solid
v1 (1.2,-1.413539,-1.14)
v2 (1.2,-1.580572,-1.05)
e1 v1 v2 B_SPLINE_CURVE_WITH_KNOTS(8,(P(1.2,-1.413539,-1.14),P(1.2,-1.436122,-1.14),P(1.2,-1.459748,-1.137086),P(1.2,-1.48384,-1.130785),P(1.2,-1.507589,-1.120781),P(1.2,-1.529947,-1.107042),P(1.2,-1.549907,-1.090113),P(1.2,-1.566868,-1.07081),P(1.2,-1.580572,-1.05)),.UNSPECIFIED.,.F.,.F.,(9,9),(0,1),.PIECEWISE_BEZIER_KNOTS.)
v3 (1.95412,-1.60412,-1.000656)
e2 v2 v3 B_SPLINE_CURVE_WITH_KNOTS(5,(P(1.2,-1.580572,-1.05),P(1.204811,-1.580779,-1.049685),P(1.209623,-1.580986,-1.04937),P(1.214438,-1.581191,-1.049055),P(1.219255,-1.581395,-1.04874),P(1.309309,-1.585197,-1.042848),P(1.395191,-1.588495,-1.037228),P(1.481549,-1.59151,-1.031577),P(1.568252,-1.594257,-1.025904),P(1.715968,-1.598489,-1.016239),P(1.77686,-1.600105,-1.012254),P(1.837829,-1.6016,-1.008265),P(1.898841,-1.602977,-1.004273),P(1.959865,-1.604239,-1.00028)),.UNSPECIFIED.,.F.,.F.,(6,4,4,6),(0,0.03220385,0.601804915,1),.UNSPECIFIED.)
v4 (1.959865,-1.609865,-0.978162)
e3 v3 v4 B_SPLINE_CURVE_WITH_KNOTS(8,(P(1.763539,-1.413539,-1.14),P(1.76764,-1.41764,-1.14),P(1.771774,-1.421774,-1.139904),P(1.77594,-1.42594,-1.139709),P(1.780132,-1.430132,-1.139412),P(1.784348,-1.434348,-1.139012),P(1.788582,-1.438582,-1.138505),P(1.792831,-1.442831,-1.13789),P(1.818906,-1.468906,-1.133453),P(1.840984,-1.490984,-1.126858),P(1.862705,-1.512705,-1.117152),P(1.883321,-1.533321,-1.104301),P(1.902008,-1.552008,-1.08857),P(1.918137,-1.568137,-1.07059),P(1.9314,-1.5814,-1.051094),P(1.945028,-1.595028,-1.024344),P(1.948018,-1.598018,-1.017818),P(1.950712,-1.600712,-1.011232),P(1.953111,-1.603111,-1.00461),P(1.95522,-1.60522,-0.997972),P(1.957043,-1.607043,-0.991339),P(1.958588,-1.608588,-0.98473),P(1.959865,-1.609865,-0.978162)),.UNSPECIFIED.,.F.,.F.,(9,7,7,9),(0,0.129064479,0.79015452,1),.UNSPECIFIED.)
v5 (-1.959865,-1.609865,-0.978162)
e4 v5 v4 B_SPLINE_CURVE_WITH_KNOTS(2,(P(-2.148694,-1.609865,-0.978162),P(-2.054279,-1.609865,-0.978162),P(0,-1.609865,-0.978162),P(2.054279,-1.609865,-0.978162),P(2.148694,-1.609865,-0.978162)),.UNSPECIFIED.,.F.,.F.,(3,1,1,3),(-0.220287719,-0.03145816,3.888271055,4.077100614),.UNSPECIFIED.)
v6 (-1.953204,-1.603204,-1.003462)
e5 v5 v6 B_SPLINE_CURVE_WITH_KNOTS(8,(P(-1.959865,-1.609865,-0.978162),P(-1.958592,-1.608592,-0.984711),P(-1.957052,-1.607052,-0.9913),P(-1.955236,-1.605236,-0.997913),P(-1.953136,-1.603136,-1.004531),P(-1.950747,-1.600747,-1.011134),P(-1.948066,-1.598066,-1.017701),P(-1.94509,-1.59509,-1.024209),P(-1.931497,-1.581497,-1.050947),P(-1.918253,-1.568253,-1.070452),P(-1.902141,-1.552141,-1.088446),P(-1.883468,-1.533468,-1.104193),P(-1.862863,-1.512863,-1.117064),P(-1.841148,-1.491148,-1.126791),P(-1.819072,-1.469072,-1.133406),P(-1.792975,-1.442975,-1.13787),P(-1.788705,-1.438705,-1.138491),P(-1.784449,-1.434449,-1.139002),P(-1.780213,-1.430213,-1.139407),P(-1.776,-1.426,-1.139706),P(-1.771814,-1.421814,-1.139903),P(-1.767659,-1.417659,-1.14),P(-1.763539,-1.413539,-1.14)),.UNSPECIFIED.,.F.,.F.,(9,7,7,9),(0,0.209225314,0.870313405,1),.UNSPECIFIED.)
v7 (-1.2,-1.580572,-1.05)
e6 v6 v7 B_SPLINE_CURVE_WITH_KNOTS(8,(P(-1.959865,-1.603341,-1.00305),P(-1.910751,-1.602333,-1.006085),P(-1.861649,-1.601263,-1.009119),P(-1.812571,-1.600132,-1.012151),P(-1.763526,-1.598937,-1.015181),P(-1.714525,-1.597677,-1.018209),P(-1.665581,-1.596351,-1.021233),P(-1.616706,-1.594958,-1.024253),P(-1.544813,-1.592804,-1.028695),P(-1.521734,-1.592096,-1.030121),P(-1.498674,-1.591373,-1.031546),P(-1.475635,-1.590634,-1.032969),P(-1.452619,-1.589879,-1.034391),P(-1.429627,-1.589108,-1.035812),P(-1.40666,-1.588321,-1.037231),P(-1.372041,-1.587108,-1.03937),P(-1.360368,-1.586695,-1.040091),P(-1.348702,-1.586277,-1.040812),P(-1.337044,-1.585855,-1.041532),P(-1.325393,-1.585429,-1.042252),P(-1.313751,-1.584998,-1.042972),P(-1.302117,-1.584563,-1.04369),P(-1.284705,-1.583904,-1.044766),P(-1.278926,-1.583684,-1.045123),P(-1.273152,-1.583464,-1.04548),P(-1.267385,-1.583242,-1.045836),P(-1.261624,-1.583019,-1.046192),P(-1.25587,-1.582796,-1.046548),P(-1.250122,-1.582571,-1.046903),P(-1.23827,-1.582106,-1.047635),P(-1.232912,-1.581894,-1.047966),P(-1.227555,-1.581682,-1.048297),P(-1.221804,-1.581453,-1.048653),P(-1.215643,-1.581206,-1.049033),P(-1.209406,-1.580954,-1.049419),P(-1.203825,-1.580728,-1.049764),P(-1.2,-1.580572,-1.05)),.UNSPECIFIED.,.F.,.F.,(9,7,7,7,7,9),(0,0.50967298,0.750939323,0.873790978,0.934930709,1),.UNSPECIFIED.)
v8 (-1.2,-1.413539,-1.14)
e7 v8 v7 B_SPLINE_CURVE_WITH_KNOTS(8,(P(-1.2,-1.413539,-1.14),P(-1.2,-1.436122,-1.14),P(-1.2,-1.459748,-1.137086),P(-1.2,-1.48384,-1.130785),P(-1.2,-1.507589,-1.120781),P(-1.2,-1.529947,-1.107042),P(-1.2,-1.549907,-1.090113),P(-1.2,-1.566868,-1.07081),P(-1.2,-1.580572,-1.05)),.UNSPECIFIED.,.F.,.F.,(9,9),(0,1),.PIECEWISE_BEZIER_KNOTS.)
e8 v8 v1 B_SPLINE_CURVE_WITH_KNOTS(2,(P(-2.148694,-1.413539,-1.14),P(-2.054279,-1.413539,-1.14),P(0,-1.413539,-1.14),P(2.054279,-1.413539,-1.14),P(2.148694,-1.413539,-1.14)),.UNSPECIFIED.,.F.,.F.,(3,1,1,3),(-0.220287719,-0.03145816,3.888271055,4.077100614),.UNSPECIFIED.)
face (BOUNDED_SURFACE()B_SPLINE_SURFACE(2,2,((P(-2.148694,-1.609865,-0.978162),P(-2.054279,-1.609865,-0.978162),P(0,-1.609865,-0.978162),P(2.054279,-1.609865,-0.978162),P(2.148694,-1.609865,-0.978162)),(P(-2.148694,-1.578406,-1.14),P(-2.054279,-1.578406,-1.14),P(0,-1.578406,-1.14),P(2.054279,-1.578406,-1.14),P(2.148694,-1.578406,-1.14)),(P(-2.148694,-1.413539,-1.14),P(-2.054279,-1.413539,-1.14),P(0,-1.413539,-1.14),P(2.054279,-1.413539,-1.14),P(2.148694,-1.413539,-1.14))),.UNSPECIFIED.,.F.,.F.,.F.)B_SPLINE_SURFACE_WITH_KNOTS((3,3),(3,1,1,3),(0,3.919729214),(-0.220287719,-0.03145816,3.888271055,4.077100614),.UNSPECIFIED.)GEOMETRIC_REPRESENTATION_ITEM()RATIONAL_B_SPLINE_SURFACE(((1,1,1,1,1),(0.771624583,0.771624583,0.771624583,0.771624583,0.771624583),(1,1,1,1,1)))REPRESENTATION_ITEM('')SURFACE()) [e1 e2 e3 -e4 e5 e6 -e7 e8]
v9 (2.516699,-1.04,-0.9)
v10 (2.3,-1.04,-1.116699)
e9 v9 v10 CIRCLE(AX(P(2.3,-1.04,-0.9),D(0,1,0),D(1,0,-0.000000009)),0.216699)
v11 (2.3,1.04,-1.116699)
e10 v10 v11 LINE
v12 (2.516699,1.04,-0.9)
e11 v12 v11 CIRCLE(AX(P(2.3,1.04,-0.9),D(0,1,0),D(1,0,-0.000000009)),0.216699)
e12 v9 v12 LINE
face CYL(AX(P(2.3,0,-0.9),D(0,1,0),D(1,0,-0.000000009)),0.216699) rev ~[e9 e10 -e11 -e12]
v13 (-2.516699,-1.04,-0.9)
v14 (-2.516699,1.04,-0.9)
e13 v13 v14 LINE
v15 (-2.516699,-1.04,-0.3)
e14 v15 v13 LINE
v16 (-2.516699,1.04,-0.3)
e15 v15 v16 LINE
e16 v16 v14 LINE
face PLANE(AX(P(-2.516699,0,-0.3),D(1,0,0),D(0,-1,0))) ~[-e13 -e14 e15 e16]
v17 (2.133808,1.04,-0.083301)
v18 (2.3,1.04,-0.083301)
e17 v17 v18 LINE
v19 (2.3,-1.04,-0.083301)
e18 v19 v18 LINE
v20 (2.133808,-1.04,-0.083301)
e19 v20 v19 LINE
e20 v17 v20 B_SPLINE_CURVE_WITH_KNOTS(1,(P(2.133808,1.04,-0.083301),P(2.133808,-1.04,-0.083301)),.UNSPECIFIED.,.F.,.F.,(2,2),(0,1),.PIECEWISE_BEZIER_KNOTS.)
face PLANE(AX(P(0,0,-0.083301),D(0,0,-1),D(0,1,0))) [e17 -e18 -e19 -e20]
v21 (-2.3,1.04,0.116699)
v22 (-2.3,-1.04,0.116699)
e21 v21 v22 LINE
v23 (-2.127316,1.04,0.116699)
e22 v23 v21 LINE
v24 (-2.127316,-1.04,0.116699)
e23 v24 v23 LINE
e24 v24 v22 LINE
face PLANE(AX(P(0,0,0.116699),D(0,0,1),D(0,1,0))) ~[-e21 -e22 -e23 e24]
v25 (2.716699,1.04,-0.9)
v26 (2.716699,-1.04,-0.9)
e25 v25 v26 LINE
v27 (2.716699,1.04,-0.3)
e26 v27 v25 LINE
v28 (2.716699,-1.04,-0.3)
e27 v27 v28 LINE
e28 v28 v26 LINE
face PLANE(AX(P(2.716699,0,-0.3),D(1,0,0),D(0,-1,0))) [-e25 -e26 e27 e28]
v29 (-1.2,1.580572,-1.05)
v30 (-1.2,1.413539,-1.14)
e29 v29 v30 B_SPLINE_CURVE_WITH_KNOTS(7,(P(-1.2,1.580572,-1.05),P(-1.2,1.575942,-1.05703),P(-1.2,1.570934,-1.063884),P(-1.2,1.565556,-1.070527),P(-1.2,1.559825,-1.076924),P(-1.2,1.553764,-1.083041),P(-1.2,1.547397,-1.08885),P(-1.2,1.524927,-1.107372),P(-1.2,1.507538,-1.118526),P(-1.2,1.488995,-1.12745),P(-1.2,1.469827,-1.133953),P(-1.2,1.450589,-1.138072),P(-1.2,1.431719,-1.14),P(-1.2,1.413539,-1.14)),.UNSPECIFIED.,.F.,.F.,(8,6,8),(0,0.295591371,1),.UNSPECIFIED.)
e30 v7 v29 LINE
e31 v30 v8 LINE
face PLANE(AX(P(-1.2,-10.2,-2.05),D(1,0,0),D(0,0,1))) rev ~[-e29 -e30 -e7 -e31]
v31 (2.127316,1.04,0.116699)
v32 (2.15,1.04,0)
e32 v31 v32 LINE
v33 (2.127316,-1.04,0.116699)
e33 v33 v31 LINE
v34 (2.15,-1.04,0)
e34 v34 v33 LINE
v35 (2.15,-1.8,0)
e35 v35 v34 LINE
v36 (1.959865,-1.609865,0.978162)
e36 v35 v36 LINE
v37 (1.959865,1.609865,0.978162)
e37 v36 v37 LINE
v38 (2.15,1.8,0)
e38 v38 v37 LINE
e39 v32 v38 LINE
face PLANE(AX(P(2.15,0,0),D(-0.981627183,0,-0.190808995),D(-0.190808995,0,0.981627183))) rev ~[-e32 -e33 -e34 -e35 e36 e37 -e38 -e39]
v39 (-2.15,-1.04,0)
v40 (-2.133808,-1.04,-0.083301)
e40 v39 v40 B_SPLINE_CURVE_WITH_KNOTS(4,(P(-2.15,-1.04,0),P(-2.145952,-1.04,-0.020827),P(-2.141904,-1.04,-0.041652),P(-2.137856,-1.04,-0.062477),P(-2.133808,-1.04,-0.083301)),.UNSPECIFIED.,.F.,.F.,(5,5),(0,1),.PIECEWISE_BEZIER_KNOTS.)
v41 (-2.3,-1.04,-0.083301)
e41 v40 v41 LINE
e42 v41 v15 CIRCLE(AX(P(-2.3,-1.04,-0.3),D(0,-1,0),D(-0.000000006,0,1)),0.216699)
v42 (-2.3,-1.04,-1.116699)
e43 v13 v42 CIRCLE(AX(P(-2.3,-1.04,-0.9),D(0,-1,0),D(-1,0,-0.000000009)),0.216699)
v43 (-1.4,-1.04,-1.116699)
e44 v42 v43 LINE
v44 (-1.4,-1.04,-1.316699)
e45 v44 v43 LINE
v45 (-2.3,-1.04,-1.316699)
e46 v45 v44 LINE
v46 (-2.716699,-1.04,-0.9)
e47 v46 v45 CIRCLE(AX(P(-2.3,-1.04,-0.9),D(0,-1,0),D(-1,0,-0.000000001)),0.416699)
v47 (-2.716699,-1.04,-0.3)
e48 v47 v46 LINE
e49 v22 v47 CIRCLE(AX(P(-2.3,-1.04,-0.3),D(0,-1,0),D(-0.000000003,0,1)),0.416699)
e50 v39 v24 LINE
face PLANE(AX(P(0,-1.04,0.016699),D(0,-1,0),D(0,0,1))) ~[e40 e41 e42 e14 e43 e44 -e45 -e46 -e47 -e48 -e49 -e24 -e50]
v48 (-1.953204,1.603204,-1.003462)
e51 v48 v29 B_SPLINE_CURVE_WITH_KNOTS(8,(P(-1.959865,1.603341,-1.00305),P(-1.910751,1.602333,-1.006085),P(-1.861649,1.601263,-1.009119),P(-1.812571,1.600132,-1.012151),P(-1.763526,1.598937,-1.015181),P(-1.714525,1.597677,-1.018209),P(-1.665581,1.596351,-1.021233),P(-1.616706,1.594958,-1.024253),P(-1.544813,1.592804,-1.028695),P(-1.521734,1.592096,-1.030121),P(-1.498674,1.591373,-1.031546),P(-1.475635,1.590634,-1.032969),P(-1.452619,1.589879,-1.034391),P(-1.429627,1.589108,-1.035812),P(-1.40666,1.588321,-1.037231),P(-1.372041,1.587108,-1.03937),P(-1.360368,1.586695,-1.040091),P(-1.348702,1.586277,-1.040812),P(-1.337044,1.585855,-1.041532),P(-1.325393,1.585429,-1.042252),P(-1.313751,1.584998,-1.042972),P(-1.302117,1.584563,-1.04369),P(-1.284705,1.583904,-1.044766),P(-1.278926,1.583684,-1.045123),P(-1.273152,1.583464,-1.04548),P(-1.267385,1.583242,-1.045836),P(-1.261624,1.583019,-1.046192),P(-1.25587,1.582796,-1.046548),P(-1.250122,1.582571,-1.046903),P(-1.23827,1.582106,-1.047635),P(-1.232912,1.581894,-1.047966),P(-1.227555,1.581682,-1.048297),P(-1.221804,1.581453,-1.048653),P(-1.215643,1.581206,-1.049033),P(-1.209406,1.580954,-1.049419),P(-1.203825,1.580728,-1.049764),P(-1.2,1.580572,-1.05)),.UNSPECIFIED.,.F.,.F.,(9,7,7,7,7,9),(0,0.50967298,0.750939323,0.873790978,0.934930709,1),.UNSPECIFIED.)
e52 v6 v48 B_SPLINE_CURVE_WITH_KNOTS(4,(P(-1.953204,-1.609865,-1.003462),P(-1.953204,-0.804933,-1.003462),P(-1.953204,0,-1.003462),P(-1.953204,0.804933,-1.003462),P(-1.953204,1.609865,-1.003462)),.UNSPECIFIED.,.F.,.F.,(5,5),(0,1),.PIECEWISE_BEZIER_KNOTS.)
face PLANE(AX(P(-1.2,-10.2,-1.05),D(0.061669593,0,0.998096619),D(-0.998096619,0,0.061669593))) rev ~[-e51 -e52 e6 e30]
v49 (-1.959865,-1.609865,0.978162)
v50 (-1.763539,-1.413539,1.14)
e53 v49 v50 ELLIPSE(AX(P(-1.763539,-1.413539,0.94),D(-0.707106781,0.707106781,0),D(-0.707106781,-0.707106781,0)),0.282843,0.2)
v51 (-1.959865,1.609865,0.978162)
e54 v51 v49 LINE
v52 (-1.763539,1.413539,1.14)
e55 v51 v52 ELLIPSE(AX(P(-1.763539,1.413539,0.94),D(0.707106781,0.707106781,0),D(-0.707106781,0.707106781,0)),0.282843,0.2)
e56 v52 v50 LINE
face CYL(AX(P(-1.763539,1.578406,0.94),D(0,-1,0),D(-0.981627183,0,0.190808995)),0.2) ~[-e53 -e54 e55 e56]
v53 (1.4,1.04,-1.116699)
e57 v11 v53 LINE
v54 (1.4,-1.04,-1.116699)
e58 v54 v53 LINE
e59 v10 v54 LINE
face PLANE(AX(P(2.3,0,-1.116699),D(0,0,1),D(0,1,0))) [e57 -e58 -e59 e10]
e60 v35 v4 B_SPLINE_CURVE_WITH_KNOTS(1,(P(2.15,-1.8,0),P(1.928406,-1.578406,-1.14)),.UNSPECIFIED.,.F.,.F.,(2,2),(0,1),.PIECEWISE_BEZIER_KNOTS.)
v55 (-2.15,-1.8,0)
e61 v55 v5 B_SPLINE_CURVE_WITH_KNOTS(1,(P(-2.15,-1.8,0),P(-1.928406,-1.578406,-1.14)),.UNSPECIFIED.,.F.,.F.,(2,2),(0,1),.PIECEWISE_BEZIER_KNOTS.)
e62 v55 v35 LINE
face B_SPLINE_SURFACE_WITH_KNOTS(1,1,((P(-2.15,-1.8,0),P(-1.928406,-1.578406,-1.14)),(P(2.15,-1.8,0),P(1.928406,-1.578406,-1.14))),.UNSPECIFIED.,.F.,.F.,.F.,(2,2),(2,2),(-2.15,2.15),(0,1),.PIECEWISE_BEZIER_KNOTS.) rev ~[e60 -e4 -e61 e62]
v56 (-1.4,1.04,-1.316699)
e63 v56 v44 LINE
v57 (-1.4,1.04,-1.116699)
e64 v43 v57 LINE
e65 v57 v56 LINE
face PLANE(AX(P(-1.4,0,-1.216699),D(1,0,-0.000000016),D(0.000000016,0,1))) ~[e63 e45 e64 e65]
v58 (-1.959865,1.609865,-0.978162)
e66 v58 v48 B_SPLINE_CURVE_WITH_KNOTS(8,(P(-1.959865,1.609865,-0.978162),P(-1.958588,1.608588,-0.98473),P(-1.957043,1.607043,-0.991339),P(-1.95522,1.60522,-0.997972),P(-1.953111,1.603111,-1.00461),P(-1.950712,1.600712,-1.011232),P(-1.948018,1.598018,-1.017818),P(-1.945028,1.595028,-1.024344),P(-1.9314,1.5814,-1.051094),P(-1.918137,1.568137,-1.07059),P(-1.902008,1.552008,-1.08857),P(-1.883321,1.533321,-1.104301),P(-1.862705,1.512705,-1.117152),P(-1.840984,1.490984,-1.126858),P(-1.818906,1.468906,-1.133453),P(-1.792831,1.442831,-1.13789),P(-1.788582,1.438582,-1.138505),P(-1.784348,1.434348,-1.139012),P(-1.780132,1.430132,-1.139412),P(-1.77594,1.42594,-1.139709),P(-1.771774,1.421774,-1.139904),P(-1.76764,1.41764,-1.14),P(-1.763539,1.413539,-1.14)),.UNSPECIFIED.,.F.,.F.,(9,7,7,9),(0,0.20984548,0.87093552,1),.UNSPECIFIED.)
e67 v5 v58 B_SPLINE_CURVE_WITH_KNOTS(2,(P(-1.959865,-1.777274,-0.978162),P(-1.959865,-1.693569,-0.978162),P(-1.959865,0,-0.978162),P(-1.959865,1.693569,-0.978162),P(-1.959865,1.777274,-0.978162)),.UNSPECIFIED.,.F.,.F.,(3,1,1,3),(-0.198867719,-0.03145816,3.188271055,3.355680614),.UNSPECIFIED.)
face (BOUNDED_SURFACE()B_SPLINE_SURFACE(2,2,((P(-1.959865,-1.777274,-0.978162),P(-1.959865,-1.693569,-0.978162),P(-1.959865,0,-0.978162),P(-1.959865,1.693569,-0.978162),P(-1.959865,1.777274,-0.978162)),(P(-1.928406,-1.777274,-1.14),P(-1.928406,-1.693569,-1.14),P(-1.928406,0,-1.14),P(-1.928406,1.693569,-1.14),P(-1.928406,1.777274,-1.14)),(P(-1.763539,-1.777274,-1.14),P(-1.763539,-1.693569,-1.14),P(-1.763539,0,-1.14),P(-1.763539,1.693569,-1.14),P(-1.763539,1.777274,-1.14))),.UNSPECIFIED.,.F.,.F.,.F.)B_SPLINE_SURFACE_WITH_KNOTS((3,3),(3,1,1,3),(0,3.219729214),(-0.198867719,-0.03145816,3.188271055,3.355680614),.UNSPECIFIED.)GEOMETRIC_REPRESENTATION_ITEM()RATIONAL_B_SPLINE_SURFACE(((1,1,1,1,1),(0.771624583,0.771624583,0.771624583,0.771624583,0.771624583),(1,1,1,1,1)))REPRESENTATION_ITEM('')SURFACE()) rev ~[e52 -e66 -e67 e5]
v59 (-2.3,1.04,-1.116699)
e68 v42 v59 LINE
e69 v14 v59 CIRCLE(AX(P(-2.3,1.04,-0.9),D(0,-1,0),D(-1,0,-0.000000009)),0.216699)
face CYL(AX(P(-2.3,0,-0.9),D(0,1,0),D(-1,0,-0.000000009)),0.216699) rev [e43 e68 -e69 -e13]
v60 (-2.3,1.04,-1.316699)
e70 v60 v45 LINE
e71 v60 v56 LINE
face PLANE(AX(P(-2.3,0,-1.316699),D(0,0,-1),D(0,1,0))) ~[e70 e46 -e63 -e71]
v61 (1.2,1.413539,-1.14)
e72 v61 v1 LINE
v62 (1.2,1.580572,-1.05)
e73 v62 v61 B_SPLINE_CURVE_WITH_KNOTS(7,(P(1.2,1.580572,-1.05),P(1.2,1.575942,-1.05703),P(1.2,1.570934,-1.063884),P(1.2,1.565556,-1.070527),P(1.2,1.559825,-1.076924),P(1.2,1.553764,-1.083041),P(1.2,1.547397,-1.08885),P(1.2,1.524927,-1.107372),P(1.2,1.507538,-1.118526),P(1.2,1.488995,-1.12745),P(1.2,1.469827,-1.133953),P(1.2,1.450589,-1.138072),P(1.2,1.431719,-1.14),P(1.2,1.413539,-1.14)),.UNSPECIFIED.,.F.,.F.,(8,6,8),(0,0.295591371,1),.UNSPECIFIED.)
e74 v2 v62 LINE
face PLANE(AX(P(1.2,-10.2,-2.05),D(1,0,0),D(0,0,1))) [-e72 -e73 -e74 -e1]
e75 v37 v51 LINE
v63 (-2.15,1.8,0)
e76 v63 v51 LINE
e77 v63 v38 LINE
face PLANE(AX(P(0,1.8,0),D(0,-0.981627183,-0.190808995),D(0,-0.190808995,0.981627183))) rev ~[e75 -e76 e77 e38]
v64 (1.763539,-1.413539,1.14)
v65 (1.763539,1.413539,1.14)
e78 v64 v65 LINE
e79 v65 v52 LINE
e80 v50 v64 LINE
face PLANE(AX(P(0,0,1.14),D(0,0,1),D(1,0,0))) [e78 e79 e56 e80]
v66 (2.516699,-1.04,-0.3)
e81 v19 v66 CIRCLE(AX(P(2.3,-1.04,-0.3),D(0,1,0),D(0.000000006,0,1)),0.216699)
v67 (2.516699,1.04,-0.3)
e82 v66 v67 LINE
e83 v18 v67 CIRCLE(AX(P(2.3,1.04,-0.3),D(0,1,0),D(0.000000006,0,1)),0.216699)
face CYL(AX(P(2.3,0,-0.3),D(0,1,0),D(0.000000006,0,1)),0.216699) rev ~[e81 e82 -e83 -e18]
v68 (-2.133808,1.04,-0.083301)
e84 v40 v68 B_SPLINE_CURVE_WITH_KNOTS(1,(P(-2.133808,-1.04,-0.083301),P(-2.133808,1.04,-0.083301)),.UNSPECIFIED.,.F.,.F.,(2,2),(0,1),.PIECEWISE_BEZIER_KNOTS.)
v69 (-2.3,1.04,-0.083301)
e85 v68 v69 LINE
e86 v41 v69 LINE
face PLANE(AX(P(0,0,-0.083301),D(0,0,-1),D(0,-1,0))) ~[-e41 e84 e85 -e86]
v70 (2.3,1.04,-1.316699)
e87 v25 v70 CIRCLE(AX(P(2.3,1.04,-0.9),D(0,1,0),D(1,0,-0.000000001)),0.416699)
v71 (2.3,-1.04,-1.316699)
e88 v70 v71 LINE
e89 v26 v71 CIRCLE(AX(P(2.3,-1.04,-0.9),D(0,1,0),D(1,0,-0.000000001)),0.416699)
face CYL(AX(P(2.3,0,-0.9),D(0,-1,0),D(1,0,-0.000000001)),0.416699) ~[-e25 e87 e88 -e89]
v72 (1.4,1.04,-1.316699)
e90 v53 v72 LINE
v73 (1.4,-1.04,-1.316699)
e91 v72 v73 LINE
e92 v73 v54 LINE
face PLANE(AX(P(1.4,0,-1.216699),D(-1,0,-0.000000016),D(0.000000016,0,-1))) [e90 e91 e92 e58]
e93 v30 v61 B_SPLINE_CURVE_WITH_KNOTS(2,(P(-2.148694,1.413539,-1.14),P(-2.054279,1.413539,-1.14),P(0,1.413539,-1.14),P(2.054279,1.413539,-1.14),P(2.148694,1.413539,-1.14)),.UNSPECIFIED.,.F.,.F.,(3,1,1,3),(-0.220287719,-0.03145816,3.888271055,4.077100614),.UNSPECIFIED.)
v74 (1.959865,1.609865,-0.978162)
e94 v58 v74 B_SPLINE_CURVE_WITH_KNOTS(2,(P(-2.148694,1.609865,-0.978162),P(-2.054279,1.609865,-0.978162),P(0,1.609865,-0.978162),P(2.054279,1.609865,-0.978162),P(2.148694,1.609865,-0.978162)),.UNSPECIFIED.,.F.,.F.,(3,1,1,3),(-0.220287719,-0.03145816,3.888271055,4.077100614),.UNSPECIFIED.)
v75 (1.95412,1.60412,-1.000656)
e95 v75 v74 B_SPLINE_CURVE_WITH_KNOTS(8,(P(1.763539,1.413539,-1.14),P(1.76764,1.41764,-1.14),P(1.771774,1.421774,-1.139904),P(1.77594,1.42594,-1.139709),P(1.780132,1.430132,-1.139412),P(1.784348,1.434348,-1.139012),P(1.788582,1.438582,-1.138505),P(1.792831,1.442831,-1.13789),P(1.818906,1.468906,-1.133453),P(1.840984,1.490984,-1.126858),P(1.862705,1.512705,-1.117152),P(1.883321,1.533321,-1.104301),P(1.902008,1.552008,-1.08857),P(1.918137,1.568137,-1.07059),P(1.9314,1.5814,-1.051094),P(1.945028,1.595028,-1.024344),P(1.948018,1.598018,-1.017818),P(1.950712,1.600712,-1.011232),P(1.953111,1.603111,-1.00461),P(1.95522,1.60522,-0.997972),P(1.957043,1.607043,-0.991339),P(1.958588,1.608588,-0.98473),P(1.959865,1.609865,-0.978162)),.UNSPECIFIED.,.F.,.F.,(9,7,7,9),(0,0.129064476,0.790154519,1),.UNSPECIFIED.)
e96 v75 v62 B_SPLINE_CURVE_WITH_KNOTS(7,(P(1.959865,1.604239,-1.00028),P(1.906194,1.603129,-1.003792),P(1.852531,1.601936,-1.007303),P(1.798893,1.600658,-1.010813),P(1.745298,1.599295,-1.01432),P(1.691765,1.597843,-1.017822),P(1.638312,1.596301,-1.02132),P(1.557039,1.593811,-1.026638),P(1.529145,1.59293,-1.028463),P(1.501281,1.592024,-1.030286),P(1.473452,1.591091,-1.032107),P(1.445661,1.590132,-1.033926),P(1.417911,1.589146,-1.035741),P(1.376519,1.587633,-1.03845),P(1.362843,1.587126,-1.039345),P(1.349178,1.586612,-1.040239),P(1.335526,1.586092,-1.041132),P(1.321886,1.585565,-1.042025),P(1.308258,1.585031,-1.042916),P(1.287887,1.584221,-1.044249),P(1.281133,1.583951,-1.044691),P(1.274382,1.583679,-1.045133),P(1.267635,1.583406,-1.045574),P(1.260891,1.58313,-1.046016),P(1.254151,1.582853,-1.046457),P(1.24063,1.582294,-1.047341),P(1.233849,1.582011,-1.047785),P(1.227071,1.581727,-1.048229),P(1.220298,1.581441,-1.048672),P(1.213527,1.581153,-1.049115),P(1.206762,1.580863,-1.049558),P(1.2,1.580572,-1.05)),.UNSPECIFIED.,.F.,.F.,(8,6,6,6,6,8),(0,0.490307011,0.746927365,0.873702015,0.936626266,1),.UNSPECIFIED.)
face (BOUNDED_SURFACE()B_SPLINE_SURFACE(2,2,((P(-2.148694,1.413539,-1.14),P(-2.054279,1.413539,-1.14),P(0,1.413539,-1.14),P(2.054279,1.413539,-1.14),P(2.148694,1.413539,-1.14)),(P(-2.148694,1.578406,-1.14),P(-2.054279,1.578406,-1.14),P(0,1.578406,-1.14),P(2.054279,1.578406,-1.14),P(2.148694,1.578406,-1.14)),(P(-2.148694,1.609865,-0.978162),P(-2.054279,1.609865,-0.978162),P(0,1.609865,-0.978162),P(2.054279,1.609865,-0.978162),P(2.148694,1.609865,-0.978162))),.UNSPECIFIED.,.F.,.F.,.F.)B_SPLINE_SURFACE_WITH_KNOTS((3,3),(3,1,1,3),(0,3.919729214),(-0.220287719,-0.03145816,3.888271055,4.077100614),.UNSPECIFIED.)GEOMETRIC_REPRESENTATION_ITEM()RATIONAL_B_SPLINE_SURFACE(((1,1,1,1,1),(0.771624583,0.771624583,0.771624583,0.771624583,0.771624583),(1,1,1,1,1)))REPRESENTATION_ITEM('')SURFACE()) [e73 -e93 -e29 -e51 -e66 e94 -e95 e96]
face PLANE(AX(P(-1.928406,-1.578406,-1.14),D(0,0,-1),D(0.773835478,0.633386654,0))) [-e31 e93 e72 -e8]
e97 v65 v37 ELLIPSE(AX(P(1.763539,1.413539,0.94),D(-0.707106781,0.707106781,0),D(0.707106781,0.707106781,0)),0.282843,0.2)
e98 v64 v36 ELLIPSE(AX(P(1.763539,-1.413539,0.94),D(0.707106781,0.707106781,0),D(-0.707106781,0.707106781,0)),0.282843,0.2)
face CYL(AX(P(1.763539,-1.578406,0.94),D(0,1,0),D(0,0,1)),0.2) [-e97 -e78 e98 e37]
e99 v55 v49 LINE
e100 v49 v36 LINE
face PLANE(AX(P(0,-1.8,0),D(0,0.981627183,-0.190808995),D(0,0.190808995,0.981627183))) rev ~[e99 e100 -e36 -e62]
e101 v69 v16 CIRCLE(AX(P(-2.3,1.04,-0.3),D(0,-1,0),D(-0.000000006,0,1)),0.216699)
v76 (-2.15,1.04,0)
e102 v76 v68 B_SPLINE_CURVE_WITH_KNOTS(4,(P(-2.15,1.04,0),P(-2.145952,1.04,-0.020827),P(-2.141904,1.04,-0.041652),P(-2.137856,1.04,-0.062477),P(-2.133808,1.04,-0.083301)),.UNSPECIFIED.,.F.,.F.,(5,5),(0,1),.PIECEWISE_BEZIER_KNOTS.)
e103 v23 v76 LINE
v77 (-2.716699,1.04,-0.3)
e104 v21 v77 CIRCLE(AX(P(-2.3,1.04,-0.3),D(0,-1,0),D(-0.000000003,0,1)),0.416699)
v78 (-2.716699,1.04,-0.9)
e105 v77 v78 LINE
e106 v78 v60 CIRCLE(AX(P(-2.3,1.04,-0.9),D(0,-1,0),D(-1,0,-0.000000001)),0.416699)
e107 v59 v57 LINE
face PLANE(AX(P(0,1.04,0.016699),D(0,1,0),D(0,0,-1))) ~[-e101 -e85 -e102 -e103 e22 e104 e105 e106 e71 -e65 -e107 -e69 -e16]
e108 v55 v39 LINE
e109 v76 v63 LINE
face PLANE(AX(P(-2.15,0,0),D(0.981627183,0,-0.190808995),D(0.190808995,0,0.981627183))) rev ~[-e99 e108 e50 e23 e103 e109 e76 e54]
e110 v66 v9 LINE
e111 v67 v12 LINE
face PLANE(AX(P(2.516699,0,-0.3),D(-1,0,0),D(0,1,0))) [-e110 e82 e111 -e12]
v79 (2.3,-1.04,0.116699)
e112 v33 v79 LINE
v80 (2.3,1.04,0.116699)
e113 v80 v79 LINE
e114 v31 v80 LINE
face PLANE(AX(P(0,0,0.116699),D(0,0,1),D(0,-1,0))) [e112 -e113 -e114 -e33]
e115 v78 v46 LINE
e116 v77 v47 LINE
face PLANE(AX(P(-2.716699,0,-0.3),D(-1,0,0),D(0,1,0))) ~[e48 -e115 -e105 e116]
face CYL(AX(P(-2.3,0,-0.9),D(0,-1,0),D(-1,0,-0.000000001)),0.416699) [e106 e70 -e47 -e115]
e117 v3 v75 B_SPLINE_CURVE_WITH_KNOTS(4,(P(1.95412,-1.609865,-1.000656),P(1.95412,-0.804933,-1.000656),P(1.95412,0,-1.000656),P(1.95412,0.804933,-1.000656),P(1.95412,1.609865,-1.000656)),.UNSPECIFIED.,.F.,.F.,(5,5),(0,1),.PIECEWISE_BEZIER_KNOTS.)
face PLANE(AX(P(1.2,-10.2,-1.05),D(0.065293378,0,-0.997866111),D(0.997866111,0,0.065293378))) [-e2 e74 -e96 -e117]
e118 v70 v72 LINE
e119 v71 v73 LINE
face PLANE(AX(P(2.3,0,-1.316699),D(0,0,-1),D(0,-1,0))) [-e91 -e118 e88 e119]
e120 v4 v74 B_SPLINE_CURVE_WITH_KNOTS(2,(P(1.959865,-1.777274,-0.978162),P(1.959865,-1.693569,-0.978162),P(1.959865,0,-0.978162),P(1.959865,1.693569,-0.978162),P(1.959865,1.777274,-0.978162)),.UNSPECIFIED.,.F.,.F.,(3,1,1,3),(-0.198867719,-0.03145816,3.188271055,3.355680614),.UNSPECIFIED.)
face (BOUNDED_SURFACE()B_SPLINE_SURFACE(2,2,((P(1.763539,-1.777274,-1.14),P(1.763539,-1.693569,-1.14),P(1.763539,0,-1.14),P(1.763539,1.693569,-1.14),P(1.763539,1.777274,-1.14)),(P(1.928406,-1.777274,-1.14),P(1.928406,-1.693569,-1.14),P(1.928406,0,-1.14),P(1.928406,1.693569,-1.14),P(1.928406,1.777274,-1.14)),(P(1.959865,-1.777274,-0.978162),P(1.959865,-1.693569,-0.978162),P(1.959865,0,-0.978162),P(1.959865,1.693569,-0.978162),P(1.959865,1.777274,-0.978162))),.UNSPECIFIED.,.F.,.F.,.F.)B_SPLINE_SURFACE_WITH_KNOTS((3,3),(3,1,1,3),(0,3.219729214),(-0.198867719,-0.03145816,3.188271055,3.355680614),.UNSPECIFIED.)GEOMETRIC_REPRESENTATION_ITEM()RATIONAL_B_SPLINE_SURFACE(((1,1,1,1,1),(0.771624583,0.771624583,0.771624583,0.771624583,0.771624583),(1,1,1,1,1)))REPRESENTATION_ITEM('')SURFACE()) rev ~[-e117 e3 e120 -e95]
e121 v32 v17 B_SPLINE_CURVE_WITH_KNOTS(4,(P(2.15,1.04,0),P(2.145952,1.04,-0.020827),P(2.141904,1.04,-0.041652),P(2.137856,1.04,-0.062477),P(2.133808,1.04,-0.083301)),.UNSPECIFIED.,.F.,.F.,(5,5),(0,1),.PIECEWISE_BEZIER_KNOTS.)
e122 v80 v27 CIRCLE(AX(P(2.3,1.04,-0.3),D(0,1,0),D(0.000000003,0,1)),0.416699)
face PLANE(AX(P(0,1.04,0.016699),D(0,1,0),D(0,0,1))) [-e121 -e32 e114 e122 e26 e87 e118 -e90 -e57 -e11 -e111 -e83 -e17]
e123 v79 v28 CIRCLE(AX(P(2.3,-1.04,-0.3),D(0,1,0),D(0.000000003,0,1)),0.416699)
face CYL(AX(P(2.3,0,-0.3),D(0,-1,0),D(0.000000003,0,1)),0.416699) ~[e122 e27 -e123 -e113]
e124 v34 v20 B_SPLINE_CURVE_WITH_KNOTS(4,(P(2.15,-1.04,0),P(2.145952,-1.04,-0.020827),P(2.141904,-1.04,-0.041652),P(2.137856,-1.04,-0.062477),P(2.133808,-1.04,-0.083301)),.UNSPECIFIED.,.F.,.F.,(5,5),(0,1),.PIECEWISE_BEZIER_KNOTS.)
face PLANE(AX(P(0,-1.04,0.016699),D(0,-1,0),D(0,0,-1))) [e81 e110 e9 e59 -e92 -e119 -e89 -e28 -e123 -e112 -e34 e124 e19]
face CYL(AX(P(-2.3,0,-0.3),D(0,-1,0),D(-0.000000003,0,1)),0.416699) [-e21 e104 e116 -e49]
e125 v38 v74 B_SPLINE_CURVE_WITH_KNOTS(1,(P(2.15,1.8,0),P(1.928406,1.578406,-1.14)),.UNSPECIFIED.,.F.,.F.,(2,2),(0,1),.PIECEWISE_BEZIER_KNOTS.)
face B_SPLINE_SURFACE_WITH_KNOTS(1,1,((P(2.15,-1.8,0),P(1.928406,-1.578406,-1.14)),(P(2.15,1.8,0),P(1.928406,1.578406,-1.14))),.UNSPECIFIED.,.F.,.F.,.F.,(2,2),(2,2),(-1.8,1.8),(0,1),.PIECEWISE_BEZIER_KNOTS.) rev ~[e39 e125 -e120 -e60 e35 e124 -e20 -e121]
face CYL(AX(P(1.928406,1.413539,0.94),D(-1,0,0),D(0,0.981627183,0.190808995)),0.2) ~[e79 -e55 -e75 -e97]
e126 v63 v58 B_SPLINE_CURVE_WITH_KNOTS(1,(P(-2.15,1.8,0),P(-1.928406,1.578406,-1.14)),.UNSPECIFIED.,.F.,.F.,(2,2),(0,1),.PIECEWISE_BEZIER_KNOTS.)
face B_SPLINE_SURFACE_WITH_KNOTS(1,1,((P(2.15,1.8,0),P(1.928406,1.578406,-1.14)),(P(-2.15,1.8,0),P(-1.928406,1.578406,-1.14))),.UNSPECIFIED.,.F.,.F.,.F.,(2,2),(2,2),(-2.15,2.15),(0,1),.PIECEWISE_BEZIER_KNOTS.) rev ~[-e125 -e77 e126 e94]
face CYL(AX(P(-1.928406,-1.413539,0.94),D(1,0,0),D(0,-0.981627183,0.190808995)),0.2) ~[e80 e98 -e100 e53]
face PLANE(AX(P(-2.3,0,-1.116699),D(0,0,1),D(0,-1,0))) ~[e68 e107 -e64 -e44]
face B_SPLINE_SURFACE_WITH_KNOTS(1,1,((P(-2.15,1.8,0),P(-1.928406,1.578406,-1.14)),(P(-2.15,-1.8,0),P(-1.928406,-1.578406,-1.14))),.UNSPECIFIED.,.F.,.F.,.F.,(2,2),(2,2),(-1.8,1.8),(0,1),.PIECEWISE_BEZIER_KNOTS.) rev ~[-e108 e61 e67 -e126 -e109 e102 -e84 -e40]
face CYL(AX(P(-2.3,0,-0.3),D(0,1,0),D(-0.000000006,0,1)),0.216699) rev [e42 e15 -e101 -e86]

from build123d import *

# Parameters (mm, degrees)
SKETCH1_W                = 4.3
SKETCH1_H                = 3.6
EXTRUDE1_DEPTH           = 1.14
EXTRUDE1_TAPER           = 11
EXTRUDE1_OTHER_WAY_DEPTH = 1.14
EXTRUDE1_OTHER_WAY_TAPER = 11
FILLET1_R                = 0.2
CUT_EXTRUDE2_DEPTH       = 10.2
CUT_EXTRUDE2_DEPTH_BACK  = 10.2
SKETCH6_W                = 0.2
SKETCH6_H                = 2.08


with BuildPart() as part:
    # Sketch1 → Extrude1 (new body)
    with BuildSketch(Plane.XY):
        Rectangle(SKETCH1_W, SKETCH1_H)
    extrude(amount=EXTRUDE1_DEPTH, taper=EXTRUDE1_TAPER)

    # Sketch1 → Extrude1 other way (add)
    with BuildSketch(Plane.XY):
        Rectangle(SKETCH1_W, SKETCH1_H)
    extrude(amount=-EXTRUDE1_OTHER_WAY_DEPTH, taper=EXTRUDE1_OTHER_WAY_TAPER)

    # Fillet1
    fillet1_edges = [part.edges().sort_by_distance(p)[0] for p in [
        (1.928406448, 0, 1.14),
        (-1.928406448, 0, -1.14),
        (0, 1.578406448, -1.14),
        (1.928406448, 0, -1.14),
        (0, 1.578406448, 1.14),
        (0, -1.578406448, -1.14),
        (-1.928406448, 0, 1.14),
        (0, -1.578406448, 1.14),
    ]]
    fillet(fillet1_edges, radius=FILLET1_R)

    # Sketch4 → Cut-Extrude2 (cut, two sides: drawn at the far end of the back side and taken through both)
    with BuildSketch(Plane(origin=(0, 0, 0), x_dir=(1, 0, 0), z_dir=(0, 1, 0)).offset(-CUT_EXTRUDE2_DEPTH_BACK)):
        Polygon((1.2, 1.05), (3.492421082, 0.9), (3.492421082, 2.05), (1.2, 2.05), align=None)
        Polygon((-3.627687387, 2.05), (-1.2, 2.05), (-1.2, 1.05), (-3.627687387, 0.9), align=None)
    extrude(amount=CUT_EXTRUDE2_DEPTH + CUT_EXTRUDE2_DEPTH_BACK, mode=Mode.SUBTRACT)

    # Sweep1: sweep along a path in Sketch5
    with BuildLine(Plane(origin=(0, 0, 0), x_dir=(1, 0, 0), z_dir=(0, 1, 0))) as sweep1_path:
        Line((0, 0), (2.3, 0))
        ThreePointArc((2.3, 0), (2.512132034, 0.087867966), (2.6, 0.3))
        Line((2.6, 0.3), (2.6, 0.9))
        ThreePointArc((2.6, 0.9), (2.512132034, 1.112132034), (2.3, 1.2))
        Line((2.3, 1.2), (1.4, 1.2))
    # Sketch6 → Sweep1 (sweep)
    with BuildSketch(Plane(origin=(0, 0, 0), x_dir=(0, 0, -1), z_dir=(1, 0, 0))):
        with Locations((-0.016698904, 0)):
            Rectangle(SKETCH6_W, SKETCH6_H)
    sweep1 = sweep(path=sweep1_path.line)

    # Mirror1: Sweep1 across plane
    add(sweep1.mirror(Plane(origin=(0, 0, 0), x_dir=(0, 0, 1), z_dir=(1, 0, 0))))


solid = part.part
